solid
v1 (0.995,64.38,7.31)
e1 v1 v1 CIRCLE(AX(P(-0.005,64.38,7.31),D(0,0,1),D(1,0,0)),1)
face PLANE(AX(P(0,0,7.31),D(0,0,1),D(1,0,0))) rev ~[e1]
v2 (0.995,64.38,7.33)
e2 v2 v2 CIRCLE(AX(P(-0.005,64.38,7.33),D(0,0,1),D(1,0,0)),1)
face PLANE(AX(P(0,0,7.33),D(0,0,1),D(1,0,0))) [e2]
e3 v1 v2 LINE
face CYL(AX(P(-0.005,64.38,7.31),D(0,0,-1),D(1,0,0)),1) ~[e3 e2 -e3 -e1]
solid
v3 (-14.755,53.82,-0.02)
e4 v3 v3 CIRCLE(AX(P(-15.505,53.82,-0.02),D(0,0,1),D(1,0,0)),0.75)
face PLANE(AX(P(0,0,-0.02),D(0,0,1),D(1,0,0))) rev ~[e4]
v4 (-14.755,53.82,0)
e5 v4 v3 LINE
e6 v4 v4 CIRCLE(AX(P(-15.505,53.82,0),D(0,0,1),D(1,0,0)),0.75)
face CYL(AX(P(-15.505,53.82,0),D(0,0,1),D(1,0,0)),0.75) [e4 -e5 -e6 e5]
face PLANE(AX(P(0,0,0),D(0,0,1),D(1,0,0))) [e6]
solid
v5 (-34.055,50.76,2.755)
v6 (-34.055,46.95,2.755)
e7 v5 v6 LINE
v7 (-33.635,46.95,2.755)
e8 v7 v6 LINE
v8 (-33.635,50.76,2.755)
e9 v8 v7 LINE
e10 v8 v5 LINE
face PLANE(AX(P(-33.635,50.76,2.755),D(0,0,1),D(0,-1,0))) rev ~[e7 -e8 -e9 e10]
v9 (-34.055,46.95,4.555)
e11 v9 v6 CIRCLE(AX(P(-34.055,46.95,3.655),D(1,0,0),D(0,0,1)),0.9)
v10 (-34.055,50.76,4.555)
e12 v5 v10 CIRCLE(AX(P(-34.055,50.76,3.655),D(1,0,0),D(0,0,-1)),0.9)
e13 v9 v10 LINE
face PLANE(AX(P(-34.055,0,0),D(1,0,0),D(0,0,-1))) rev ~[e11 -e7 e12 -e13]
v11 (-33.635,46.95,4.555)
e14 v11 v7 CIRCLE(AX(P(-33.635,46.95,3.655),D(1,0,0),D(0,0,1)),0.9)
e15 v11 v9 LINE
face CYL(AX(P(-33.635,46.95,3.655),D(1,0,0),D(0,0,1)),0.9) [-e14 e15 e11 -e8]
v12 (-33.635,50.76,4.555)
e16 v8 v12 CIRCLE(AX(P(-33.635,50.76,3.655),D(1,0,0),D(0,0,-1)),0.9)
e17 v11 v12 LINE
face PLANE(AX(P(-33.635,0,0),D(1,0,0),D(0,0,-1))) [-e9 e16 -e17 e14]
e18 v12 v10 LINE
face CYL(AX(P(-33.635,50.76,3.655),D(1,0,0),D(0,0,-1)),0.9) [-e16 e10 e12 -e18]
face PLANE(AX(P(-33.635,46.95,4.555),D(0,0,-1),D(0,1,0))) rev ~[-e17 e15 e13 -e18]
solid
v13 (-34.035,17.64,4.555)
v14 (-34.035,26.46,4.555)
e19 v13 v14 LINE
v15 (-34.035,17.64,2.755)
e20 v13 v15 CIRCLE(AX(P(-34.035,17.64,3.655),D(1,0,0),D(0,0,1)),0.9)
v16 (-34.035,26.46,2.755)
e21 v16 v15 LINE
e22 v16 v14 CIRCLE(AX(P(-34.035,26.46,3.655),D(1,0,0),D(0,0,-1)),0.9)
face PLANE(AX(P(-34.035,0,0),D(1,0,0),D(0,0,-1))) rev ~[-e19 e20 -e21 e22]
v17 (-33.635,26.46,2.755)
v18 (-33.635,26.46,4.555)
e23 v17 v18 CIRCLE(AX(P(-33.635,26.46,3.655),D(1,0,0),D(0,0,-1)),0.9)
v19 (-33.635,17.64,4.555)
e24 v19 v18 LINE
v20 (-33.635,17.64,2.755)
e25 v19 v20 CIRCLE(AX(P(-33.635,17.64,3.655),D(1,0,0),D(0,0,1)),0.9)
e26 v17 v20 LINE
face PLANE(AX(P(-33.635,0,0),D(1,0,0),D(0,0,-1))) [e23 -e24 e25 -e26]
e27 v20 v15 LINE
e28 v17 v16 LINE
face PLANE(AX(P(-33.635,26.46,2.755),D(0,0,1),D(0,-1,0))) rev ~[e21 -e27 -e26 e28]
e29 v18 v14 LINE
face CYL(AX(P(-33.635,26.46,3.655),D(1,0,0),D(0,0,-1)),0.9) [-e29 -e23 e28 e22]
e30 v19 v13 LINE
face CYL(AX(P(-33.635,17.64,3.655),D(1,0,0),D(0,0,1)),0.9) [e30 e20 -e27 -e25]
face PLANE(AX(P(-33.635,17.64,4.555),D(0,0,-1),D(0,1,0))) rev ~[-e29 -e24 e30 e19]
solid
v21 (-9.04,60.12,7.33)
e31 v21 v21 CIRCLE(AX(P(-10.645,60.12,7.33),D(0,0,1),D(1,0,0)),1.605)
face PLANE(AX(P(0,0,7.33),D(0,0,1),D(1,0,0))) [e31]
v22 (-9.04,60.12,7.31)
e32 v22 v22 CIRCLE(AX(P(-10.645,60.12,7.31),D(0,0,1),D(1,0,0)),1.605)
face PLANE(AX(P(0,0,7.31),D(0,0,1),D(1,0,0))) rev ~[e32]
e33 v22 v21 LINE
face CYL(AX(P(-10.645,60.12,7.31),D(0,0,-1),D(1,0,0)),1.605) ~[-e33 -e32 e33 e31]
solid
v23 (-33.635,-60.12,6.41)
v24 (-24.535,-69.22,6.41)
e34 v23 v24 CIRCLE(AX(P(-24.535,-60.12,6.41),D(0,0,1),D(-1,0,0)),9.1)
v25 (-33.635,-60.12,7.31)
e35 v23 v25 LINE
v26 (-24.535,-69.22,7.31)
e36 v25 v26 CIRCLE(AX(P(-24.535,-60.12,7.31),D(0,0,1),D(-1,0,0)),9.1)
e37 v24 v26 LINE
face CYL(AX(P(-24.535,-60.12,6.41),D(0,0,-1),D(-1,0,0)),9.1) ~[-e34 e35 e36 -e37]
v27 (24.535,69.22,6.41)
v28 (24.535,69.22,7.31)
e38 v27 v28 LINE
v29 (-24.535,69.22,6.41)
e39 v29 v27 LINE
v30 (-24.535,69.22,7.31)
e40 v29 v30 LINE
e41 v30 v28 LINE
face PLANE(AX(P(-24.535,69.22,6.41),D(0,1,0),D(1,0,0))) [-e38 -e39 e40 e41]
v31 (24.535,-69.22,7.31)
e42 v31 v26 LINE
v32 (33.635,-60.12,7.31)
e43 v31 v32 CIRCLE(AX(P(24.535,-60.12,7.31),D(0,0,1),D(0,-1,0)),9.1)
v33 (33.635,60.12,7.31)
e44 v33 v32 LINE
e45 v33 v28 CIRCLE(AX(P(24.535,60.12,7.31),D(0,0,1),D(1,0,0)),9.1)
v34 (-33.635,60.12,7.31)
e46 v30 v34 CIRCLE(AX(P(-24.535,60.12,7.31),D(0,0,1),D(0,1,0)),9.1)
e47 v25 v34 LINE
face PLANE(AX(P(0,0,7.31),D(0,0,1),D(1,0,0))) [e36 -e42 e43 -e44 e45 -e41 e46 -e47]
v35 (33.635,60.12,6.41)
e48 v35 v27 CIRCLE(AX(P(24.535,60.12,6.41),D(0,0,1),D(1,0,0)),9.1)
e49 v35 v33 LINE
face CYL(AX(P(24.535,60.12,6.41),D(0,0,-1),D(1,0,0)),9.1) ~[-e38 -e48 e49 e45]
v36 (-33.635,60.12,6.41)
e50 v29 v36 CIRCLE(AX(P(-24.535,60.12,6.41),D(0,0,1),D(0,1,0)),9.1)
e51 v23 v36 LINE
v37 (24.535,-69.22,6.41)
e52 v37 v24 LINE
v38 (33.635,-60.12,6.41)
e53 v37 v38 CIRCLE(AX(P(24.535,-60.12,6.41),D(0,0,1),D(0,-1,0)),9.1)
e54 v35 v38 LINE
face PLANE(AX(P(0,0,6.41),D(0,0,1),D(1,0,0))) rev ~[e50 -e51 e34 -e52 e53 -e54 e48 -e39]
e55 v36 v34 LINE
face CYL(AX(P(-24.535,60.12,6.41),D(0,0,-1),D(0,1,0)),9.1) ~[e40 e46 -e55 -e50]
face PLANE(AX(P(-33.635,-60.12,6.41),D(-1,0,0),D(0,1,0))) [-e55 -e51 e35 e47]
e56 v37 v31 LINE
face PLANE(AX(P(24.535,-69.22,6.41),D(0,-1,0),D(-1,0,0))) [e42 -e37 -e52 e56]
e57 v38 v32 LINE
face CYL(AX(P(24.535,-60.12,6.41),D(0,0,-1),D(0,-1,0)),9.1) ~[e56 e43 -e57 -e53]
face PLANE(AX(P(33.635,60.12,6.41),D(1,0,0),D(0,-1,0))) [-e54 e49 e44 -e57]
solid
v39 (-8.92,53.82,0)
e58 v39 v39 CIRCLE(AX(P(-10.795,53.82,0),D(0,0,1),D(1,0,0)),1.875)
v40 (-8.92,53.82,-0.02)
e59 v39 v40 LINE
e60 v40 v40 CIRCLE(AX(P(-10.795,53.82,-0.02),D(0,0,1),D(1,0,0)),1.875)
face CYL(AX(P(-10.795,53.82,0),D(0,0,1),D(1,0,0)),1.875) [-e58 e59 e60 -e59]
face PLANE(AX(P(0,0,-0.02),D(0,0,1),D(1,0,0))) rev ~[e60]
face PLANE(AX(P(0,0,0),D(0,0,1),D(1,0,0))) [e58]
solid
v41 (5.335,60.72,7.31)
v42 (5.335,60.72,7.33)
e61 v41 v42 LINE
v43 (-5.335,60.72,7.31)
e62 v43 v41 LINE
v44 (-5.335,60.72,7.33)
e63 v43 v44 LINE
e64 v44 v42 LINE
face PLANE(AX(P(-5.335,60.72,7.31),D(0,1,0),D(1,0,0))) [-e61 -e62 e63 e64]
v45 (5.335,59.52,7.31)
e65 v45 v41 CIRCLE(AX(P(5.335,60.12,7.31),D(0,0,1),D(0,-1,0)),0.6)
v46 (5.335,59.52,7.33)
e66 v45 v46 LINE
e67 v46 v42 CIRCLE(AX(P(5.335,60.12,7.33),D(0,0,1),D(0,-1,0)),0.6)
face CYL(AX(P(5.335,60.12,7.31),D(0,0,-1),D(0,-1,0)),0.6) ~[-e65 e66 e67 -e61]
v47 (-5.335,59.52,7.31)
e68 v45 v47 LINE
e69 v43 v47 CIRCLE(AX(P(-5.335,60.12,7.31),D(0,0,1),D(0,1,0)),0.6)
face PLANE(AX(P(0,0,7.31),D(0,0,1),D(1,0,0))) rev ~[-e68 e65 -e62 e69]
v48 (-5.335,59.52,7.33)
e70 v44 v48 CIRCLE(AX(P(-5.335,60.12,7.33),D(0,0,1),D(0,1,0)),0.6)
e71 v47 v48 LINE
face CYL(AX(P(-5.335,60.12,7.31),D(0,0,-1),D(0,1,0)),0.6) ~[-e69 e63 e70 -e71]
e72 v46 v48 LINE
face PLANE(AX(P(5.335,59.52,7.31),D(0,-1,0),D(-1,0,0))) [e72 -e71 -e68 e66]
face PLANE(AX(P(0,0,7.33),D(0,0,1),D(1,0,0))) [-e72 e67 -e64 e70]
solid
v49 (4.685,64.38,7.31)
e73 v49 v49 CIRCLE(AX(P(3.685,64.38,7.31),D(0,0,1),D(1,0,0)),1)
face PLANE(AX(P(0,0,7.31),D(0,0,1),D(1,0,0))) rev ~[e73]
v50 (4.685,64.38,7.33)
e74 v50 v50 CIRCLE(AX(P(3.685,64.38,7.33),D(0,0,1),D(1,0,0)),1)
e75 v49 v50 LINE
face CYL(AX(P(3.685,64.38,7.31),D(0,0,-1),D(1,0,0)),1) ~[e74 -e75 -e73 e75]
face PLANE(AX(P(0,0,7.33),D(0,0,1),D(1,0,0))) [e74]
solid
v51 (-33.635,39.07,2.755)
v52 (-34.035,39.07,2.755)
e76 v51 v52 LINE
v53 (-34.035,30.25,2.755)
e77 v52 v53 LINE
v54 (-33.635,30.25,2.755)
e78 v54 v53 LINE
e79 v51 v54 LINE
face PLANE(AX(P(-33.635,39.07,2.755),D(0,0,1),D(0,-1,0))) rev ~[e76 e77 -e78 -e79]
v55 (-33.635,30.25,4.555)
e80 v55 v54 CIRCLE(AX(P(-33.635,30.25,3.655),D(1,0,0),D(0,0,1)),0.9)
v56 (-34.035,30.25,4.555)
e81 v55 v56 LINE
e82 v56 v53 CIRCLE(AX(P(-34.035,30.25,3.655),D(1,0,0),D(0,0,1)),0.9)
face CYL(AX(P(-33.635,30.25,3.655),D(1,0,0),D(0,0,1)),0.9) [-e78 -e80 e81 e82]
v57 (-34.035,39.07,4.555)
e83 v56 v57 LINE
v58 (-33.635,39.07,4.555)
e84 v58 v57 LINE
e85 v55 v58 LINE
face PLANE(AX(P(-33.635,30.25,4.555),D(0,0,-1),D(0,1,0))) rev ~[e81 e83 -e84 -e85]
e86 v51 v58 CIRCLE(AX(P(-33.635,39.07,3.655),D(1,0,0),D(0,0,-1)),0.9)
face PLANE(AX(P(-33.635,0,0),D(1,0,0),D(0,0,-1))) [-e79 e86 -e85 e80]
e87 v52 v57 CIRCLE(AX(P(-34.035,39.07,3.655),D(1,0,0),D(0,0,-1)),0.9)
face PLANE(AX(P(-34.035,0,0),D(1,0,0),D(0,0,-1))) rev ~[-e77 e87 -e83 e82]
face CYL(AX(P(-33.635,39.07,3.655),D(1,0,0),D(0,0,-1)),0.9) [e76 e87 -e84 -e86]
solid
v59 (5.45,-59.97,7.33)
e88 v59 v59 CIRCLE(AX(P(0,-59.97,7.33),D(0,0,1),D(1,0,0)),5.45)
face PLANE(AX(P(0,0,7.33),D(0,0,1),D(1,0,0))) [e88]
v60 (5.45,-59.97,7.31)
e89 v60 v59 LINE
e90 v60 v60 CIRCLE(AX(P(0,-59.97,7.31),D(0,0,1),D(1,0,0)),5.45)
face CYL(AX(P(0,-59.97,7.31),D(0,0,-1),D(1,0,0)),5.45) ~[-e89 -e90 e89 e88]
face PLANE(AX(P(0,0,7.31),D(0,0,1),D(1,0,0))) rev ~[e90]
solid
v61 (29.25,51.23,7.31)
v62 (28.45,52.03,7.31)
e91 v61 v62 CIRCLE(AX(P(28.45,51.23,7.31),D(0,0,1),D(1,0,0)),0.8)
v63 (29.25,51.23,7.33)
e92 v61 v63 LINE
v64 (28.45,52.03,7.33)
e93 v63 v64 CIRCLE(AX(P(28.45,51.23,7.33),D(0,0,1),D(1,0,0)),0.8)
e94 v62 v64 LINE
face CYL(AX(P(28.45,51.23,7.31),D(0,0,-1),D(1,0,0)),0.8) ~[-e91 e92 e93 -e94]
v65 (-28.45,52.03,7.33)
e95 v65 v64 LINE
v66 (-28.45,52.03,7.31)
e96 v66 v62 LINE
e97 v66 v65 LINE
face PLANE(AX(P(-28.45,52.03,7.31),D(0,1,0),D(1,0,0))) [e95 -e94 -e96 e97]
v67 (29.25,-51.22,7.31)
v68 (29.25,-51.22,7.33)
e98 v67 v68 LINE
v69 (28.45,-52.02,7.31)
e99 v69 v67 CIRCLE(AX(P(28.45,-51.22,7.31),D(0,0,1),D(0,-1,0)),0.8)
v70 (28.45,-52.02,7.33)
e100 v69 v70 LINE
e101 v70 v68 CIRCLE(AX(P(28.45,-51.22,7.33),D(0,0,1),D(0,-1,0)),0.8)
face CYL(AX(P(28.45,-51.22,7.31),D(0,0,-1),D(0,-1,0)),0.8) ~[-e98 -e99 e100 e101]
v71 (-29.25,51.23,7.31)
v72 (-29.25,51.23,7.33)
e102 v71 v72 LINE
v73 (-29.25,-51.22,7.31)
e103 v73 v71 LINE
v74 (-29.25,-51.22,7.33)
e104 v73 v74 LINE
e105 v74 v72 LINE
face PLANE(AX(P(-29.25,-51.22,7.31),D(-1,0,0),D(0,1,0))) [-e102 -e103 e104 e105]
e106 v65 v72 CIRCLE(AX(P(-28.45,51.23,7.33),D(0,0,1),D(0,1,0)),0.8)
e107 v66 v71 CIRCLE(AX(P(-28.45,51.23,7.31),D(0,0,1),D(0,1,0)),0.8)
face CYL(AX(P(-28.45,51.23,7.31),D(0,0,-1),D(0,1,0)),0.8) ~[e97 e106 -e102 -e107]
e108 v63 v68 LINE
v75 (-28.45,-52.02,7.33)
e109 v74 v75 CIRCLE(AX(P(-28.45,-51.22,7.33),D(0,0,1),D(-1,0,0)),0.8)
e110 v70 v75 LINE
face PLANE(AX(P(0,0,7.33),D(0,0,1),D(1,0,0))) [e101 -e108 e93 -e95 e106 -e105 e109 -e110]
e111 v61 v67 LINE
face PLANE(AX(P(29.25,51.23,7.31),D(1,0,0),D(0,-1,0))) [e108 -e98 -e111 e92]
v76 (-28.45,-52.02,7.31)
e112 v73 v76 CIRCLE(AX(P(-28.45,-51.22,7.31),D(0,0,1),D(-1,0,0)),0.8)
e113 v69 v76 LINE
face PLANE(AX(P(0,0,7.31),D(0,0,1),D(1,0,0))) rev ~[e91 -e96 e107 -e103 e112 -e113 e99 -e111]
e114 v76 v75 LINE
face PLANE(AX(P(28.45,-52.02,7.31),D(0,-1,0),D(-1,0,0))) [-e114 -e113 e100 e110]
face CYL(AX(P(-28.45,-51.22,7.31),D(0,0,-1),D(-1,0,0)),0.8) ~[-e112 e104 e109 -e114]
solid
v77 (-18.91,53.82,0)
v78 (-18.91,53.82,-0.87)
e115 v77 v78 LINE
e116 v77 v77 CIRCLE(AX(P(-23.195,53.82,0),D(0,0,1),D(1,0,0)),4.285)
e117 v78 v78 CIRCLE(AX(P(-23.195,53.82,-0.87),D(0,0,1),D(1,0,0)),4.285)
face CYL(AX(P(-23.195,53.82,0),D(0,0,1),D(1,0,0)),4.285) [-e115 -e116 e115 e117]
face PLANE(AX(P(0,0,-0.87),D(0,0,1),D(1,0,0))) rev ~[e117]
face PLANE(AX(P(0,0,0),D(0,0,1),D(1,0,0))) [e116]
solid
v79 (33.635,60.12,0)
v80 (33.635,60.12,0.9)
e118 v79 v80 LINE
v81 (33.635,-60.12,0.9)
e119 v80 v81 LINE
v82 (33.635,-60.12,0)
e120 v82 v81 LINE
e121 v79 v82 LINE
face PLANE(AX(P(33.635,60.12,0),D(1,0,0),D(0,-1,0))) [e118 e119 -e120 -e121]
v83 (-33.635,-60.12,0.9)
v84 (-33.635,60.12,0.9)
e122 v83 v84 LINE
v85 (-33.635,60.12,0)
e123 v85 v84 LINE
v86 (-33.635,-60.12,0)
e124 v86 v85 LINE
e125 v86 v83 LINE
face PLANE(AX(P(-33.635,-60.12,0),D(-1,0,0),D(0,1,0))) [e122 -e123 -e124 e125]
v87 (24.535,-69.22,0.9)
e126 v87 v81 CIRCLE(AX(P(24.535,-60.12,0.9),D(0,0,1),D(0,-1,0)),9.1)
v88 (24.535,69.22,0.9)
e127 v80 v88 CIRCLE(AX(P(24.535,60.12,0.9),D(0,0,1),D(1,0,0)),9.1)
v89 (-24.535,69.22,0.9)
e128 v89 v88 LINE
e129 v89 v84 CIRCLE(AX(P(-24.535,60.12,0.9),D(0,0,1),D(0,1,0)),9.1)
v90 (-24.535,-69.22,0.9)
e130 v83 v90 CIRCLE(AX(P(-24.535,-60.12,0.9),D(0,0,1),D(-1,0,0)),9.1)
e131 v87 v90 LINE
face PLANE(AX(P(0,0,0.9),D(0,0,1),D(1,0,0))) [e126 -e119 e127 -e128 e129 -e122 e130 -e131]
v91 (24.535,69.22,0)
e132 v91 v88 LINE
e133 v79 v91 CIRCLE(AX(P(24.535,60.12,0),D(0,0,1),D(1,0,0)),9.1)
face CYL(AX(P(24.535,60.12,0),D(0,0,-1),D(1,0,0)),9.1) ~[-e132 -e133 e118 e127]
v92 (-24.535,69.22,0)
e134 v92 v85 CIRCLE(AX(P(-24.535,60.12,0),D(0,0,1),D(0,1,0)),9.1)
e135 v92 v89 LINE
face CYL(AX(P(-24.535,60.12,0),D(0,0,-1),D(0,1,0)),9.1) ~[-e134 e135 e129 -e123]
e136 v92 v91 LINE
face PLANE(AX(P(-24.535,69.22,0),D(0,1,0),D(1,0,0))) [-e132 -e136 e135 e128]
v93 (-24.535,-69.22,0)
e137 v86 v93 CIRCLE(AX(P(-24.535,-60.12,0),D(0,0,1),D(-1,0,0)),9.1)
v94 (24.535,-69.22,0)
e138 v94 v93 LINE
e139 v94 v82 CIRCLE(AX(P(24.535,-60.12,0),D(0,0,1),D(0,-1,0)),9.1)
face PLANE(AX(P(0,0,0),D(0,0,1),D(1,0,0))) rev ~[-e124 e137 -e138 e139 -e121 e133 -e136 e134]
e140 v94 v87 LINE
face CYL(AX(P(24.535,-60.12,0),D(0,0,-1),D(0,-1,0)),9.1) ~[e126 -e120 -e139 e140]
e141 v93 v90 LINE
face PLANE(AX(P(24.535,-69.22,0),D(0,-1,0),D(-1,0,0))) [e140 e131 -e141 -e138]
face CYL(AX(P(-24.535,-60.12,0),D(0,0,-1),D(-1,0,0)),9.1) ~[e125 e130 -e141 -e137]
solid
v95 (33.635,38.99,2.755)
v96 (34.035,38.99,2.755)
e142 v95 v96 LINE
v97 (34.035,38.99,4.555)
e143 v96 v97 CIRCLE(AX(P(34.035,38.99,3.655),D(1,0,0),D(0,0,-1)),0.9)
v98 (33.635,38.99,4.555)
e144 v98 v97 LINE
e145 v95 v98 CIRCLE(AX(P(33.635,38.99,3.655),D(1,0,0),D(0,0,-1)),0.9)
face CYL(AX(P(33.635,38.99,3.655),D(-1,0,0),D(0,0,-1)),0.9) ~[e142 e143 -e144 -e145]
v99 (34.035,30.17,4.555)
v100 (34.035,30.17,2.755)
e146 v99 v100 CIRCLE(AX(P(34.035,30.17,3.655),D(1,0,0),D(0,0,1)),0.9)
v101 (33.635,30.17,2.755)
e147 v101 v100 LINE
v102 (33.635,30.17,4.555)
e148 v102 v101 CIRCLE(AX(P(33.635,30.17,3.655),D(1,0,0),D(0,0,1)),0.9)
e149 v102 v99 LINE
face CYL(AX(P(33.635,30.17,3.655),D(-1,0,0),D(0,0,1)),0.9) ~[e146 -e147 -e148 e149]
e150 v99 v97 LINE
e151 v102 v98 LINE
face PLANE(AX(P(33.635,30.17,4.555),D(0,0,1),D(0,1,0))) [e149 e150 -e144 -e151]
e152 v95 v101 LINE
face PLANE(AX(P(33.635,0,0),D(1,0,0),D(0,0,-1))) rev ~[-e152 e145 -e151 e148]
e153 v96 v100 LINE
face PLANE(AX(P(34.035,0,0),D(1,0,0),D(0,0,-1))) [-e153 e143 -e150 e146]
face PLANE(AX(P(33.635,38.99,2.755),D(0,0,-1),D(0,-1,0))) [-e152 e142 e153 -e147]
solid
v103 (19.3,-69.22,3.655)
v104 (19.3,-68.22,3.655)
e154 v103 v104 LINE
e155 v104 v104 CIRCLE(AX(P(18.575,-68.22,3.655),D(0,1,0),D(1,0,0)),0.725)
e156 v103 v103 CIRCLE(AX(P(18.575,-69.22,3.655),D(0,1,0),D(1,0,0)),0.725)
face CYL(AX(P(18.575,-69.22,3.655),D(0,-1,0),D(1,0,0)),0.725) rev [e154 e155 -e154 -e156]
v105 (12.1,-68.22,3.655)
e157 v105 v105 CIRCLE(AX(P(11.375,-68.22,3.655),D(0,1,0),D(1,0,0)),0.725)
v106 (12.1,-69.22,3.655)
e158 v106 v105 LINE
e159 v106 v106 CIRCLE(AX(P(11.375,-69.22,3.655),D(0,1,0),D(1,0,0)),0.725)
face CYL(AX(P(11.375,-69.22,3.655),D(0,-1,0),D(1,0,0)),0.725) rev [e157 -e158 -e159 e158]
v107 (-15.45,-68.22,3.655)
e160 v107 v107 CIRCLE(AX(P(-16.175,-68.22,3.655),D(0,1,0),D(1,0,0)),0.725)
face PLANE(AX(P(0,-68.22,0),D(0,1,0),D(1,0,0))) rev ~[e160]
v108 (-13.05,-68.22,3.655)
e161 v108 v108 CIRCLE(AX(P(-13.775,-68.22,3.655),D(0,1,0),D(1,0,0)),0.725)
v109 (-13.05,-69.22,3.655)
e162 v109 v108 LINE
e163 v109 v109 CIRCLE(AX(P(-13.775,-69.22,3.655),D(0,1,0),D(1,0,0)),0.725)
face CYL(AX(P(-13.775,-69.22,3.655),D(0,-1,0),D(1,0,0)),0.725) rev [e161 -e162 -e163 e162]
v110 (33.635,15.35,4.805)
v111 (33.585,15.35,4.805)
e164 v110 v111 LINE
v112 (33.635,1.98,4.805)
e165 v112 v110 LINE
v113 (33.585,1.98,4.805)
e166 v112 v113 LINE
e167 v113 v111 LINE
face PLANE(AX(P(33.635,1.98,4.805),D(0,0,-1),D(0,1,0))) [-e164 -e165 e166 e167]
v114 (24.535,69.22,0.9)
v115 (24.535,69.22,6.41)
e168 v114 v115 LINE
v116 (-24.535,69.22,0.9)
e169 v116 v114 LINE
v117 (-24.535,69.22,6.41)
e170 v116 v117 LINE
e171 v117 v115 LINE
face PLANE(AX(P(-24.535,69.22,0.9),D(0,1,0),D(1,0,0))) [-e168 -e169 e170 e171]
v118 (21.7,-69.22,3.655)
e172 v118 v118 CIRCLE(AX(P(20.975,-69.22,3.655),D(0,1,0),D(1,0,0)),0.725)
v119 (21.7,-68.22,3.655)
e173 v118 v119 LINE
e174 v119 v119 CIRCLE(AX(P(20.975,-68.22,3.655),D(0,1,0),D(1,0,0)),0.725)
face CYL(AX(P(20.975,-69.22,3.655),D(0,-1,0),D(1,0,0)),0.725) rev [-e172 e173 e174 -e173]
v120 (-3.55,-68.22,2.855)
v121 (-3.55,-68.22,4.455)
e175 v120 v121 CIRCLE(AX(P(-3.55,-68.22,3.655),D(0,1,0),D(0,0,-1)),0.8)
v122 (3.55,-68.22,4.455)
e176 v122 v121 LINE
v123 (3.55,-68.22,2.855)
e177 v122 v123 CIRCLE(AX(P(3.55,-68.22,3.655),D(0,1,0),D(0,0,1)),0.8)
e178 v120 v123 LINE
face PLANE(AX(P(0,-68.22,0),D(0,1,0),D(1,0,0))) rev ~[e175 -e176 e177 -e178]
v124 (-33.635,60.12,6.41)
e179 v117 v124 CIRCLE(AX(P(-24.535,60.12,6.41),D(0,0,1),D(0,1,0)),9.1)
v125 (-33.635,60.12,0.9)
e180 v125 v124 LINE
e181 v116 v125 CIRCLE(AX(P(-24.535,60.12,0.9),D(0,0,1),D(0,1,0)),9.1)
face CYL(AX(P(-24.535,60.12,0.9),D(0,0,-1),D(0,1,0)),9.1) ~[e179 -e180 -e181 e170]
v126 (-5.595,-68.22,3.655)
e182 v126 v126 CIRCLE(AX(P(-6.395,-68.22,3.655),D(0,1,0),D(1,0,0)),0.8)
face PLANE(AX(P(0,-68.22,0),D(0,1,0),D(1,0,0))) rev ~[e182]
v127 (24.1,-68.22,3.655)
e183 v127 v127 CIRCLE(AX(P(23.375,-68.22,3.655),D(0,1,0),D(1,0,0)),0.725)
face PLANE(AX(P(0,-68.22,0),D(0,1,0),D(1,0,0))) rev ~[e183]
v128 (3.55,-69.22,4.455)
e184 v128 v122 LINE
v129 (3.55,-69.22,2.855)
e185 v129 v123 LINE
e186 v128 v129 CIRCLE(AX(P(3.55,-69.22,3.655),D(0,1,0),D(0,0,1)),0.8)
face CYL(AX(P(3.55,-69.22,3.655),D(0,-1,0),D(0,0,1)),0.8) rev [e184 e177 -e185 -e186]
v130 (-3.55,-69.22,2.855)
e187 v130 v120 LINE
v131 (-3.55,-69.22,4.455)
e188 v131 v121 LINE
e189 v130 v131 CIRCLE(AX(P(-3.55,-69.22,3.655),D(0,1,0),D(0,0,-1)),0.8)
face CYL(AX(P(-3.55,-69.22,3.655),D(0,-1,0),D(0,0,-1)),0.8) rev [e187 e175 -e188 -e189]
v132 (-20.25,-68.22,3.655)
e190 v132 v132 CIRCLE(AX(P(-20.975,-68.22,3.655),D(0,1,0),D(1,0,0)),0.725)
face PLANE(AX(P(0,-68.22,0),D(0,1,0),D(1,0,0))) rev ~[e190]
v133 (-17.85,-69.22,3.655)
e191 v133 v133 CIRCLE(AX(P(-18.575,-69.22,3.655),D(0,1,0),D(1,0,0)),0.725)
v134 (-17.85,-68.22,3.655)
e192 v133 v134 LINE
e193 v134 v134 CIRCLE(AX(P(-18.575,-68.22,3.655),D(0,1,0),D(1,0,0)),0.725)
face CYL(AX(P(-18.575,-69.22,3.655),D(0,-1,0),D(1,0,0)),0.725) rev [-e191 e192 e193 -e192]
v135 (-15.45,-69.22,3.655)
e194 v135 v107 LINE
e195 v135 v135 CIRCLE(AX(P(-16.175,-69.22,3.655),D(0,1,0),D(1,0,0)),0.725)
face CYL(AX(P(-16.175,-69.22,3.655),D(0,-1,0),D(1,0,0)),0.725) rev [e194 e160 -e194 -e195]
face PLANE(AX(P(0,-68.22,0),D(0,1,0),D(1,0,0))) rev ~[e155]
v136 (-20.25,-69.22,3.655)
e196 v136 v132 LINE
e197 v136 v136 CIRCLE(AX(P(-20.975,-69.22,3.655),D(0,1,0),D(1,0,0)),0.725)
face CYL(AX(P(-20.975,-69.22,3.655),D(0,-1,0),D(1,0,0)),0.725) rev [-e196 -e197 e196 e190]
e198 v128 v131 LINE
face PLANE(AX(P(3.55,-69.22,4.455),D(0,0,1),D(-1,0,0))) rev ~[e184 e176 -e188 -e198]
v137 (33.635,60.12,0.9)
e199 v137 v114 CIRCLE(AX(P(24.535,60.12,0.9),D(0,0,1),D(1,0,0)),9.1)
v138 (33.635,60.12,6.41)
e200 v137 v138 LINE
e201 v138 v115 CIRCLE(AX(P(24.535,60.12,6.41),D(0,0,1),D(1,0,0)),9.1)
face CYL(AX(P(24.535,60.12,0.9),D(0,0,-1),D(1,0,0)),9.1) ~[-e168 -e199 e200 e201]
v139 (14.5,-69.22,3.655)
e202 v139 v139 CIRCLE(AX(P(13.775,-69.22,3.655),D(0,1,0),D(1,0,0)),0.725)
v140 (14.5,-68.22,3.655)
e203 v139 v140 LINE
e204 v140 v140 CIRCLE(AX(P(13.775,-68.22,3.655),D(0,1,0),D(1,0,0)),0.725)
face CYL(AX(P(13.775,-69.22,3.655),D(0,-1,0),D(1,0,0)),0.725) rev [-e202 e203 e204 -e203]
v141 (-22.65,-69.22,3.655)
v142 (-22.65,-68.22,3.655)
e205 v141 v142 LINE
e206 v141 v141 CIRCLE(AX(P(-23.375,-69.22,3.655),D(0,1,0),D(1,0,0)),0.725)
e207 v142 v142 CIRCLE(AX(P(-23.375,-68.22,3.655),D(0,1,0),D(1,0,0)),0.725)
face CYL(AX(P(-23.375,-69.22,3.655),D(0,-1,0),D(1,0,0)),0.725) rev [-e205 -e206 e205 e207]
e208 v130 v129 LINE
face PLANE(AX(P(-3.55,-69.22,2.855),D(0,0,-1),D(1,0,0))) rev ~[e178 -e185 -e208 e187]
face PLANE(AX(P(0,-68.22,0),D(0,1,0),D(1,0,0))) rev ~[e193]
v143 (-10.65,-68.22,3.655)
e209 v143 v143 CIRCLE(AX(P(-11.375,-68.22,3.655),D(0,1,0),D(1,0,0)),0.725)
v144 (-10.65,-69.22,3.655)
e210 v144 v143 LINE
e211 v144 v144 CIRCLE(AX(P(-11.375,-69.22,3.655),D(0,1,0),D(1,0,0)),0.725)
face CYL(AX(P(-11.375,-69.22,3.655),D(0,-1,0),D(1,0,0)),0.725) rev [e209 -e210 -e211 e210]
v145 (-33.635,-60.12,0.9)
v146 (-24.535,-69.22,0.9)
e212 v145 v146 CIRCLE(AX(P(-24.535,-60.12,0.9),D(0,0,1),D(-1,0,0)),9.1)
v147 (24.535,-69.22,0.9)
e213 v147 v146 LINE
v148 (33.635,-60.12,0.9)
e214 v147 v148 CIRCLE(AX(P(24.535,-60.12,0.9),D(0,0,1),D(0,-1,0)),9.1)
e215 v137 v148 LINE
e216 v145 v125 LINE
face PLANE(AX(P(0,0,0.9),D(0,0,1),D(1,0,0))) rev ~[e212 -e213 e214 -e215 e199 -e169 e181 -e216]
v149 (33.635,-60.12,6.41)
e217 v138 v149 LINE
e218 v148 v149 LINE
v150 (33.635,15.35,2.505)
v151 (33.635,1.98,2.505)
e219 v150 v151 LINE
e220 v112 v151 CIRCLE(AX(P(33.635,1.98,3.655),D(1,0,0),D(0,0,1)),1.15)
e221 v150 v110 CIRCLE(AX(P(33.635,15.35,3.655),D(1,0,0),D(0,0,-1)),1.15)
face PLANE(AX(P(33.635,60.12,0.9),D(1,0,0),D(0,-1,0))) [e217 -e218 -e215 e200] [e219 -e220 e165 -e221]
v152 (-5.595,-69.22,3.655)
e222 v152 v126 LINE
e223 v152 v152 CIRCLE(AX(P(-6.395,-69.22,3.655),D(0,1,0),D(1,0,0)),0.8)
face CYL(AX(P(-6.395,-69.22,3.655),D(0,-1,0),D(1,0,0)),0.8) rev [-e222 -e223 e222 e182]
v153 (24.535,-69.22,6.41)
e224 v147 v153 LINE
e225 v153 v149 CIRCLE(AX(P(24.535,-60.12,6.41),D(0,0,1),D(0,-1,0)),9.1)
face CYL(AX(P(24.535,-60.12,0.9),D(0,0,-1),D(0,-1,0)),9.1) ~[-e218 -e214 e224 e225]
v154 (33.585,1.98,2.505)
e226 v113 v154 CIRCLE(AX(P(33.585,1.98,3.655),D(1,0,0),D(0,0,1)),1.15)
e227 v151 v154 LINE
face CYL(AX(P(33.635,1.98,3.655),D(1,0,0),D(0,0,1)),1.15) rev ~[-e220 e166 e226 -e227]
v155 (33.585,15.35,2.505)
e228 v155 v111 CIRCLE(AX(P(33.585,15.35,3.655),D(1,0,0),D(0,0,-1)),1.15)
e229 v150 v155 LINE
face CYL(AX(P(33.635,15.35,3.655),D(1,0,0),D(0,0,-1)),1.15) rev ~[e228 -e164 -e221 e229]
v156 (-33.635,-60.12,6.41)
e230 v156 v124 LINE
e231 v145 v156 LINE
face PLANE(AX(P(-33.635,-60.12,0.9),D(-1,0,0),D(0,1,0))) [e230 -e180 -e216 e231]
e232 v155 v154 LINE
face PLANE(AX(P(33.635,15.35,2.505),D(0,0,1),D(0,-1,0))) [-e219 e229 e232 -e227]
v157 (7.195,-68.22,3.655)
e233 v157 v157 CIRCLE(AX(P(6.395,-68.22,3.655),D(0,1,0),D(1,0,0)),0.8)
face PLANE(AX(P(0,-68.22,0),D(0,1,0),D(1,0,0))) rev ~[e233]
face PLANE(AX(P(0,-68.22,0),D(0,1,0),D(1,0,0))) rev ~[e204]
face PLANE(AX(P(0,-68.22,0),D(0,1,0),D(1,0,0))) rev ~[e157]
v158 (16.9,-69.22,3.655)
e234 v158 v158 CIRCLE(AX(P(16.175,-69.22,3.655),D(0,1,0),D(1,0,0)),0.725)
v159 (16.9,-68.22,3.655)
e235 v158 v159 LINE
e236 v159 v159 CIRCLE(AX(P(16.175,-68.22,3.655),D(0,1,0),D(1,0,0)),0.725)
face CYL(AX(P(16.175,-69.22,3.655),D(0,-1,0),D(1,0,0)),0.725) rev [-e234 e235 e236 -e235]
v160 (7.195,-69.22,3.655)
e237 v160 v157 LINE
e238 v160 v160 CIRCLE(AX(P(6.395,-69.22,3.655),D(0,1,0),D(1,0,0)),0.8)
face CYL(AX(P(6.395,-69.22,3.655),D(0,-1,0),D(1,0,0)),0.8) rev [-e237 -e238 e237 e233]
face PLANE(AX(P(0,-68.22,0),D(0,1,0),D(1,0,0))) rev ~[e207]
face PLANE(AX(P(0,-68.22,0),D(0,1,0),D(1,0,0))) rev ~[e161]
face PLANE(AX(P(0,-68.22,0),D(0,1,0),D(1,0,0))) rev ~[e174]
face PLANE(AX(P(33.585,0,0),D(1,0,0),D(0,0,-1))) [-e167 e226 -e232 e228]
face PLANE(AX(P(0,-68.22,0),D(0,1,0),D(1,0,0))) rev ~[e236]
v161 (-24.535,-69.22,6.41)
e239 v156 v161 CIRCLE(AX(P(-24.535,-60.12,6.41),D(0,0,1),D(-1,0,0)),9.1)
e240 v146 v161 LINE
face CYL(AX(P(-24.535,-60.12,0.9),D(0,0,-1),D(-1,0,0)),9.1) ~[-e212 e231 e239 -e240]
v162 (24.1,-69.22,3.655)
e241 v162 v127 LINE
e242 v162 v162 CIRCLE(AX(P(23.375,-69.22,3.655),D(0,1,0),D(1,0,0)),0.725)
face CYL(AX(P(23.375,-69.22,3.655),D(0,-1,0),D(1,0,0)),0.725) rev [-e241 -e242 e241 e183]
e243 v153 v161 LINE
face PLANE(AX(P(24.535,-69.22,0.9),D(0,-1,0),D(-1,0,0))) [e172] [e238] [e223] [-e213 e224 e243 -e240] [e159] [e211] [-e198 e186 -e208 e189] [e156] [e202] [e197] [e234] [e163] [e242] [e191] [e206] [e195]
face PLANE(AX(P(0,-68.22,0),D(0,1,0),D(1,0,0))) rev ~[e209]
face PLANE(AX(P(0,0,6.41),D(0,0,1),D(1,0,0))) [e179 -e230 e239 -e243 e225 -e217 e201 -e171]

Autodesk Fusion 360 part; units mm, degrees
sketch "スケッチ1" plane through (0, 0, 0) normal (0, 0, 1) x (1, 0, 0) in component "iPhone SE 3 - Parametric Drawing Model"
  arc A0 (33.635, 60.12) -> (24.535, 69.22) centre (24.535, 60.12) ccw
  arc A1 (24.535, -69.22) -> (33.635, -60.12) centre (24.535, -60.12) ccw
  arc A2 (-33.635, -60.12) -> (-24.535, -69.22) centre (-24.535, -60.12) ccw
  arc A3 (-24.535, 69.22) -> (-33.635, 60.12) centre (-24.535, 60.12) ccw
  line L0 (-24.535, 69.22) -> (24.535, 69.22)
  line L1 (33.635, 60.12) -> (33.635, -60.12)
  line L2 (24.535, -69.22) -> (-24.535, -69.22)
  line L3 (-33.635, -60.12) -> (-33.635, 60.12)
  dimension "d710" = 49.07
  dimension "d711" = 120.24
  dimension "d712" = 9.1
  dimension "d713" = 24.535
  dimension "d714" = 60.12
extrude "Rear Glass" add sketch "スケッチ1" along normal blind 0.9 makes body 1 in component "iPhone SE 3 - Parametric Drawing Model"
ref_plane "作業平面1" through (0, 0, 0.9) normal (0, 0, 1) x (1, 0, 0) in component "iPhone SE 3 - Parametric Drawing Model"
sketch "スケッチ2" plane through (0, 0, 0.9) normal (0, 0, 1) x (1, 0, 0) in component "iPhone SE 3 - Parametric Drawing Model"
  arc A0 (33.635, 60.12) -> (24.535, 69.22) centre (24.535, 60.12) ccw
  arc A1 (24.535, -69.22) -> (33.635, -60.12) centre (24.535, -60.12) ccw
  arc A2 (-33.635, -60.12) -> (-24.535, -69.22) centre (-24.535, -60.12) ccw
  arc A3 (-24.535, 69.22) -> (-33.635, 60.12) centre (-24.535, 60.12) ccw
  line L0 (-24.535, 69.22) -> (24.535, 69.22)
  line L1 (33.635, 60.12) -> (33.635, -60.12)
  line L2 (24.535, -69.22) -> (-24.535, -69.22)
  line L3 (-33.635, -60.12) -> (-33.635, 60.12)
  dimension "d719" = 49.07
  dimension "d720" = 120.24
  dimension "d721" = 9.1
  dimension "d722" = 24.535
  dimension "d723" = 60.12
extrude "Aluminum Frame" add sketch "スケッチ2" along normal blind 5.51 separate body makes body 2 in component "iPhone SE 3 - Parametric Drawing Model"
ref_plane "作業平面2" through (0, 0, 6.41) normal (0, 0, 1) x (1, 0, 0) in component "iPhone SE 3 - Parametric Drawing Model"
sketch "スケッチ3" plane through (0, 0, 6.41) normal (0, 0, 1) x (1, 0, 0) in component "iPhone SE 3 - Parametric Drawing Model"
  arc A0 (33.635, 60.12) -> (24.535, 69.22) centre (24.535, 60.12) ccw
  arc A1 (24.535, -69.22) -> (33.635, -60.12) centre (24.535, -60.12) ccw
  arc A2 (-33.635, -60.12) -> (-24.535, -69.22) centre (-24.535, -60.12) ccw
  arc A3 (-24.535, 69.22) -> (-33.635, 60.12) centre (-24.535, 60.12) ccw
  line L0 (-24.535, 69.22) -> (24.535, 69.22)
  line L1 (33.635, 60.12) -> (33.635, -60.12)
  line L2 (24.535, -69.22) -> (-24.535, -69.22)
  line L3 (-33.635, -60.12) -> (-33.635, 60.12)
  dimension "d728" = 49.07
  dimension "d729" = 120.24
  dimension "d730" = 9.1
  dimension "d731" = 24.535
  dimension "d732" = 60.12
extrude "Front Cover Glass" add sketch "スケッチ3" along normal blind 0.9 separate body makes body 3 in component "iPhone SE 3 - Parametric Drawing Model"
ref_plane "作業平面3" through (0, 0, 7.31) normal (0, 0, 1) x (1, 0, 0) in component "iPhone SE 3 - Parametric Drawing Model"
sketch "スケッチ4" plane through (0, 0, 7.31) normal (0, 0, 1) x (1, 0, 0) in component "iPhone SE 3 - Parametric Drawing Model"
  arc A0 (29.25, 51.23) -> (28.45, 52.03) centre (28.45, 51.23) ccw
  arc A1 (28.45, -52.02) -> (29.25, -51.22) centre (28.45, -51.22) ccw
  arc A2 (-29.25, -51.22) -> (-28.45, -52.02) centre (-28.45, -51.22) ccw
  arc A3 (-28.45, 52.03) -> (-29.25, 51.23) centre (-28.45, 51.23) ccw
  line L0 (-28.45, 52.03) -> (28.45, 52.03)
  line L1 (29.25, 51.23) -> (29.25, -51.22)
  line L2 (28.45, -52.02) -> (-28.45, -52.02)
  line L3 (-29.25, -51.22) -> (-29.25, 51.23)
  dimension "d737" = 56.9
  dimension "d738" = 102.45
  dimension "d739" = 0.8
  dimension "d740" = 28.45
  dimension "d741" = 51.23
extrude "Front Active Area Reference" add sketch "スケッチ4" along normal blind 0.02 separate body makes body 4 in component "iPhone SE 3 - Parametric Drawing Model"
sketch "スケッチ5" plane through (0, 0, 7.31) normal (0, 0, 1) x (1, 0, 0) in component "iPhone SE 3 - Parametric Drawing Model"
  circle A0 centre (0, -59.97) radius 5.45
  dimension "d744" = 59.97
  dimension "d745" = 10.9
extrude "Home Touch ID Sensor" add sketch "スケッチ5" along normal blind 0.02 separate body makes body 5 in component "iPhone SE 3 - Parametric Drawing Model"
sketch "スケッチ6" plane through (0, 0, 7.31) normal (0, 0, 1) x (1, 0, 0) in component "iPhone SE 3 - Parametric Drawing Model"
  circle A0 centre (-10.645, 60.12) radius 1.605
  dimension "d748" = 10.645
  dimension "d749" = 60.12
  dimension "d750" = 3.21
extrude "Front Detail 12 Front Camera Position" add sketch "スケッチ6" along normal blind 0.02 separate body makes body 6 in component "iPhone SE 3 - Parametric Drawing Model"
sketch "スケッチ7" plane through (0, 0, 7.31) normal (0, 0, 1) x (1, 0, 0) in component "iPhone SE 3 - Parametric Drawing Model"
  circle A0 centre (-0.005, 64.38) radius 1
  dimension "d753" = 0.005
  dimension "d754" = 64.38
  dimension "d755" = 2
extrude "Front Detail 13 Proximity Sensor Position" add sketch "スケッチ7" along normal blind 0.02 separate body makes body 7 in component "iPhone SE 3 - Parametric Drawing Model"
sketch "スケッチ8" plane through (0, 0, 7.31) normal (0, 0, 1) x (1, 0, 0) in component "iPhone SE 3 - Parametric Drawing Model"
  circle A0 centre (3.685, 64.38) radius 1
  dimension "d758" = 3.685
  dimension "d759" = 64.38
  dimension "d760" = 2
extrude "Front Detail 14 ALS Position" add sketch "スケッチ8" along normal blind 0.02 separate body makes body 8 in component "iPhone SE 3 - Parametric Drawing Model"
sketch "スケッチ9" plane through (0, 0, 7.31) normal (0, 0, 1) x (1, 0, 0) in component "iPhone SE 3 - Parametric Drawing Model"
  arc A0 (5.335, 59.52) -> (5.335, 60.72) centre (5.335, 60.12) ccw
  arc A1 (-5.335, 60.72) -> (-5.335, 59.52) centre (-5.335, 60.12) ccw
  line L0 (-5.335, 60.72) -> (5.335, 60.72)
  line L1 (5.335, 59.52) -> (-5.335, 59.52)
  line L2 (-5.335, 60.12) -> (5.335, 60.12) construction
  point P0 (0, 60.12)
  dimension "d763" = 10.67
  dimension "d764" = 0.6
  dimension "d765" = 60.12
extrude "Receiver Opening" add sketch "スケッチ9" along normal blind 0.02 separate body makes body 9 in component "iPhone SE 3 - Parametric Drawing Model"
sketch "スケッチ10" plane through (0, 0, 0) normal (0, 0, 1) x (1, 0, 0) in component "iPhone SE 3 - Parametric Drawing Model"
  circle A0 centre (-23.195, 53.82) radius 4.285
  dimension "d768" = 23.195
  dimension "d769" = 53.82
  dimension "d770" = 8.57
extrude "Rear Camera Bump" add sketch "スケッチ10" against normal blind 0.87 separate body makes body 10 in component "iPhone SE 3 - Parametric Drawing Model"
sketch "スケッチ11" plane through (0, 0, 0) normal (0, 0, 1) x (1, 0, 0) in component "iPhone SE 3 - Parametric Drawing Model"
  circle A0 centre (-15.505, 53.82) radius 0.75
  dimension "d773" = 15.505
  dimension "d774" = 53.82
  dimension "d775" = 1.5
extrude "Rear Microphone" add sketch "スケッチ11" against normal blind 0.02 separate body makes body 11 in component "iPhone SE 3 - Parametric Drawing Model"
sketch "スケッチ12" plane through (0, 0, 0) normal (0, 0, 1) x (1, 0, 0) in component "iPhone SE 3 - Parametric Drawing Model"
  circle A0 centre (-10.795, 53.82) radius 1.875
  dimension "d778" = 10.795
  dimension "d779" = 53.82
  dimension "d780" = 3.75
extrude "Rear Flash" add sketch "スケッチ12" against normal blind 0.02 separate body makes body 12 in component "iPhone SE 3 - Parametric Drawing Model"
ref_plane "作業平面4" through (-33.635, 0, 0) normal (1, 0, 0) x (0, 1, 0) in component "iPhone SE 3 - Parametric Drawing Model"
ref_plane "作業平面5" through (33.635, 0, 0) normal (1, 0, 0) x (0, 1, 0) in component "iPhone SE 3 - Parametric Drawing Model"
sketch "スケッチ13" plane through (-33.635, 0, 0) normal (1, 0, 0) x (0, 0, -1) in component "iPhone SE 3 - Parametric Drawing Model"
  arc A0 (-2.755, 50.76) -> (-4.555, 50.76) centre (-3.655, 50.76) ccw
  arc A1 (-4.555, 46.95) -> (-2.755, 46.95) centre (-3.655, 46.95) ccw
  line L0 (-2.755, 50.76) -> (-2.755, 46.95)
  line L1 (-4.555, 46.95) -> (-4.555, 50.76)
  line L2 (-3.655, 50.76) -> (-3.655, 46.95) construction
  point P0 (-3.655, 48.855)
  dimension "d787" = 3.81
  dimension "d788" = 0.9
  dimension "d789" = 3.655
  dimension "d790" = 48.855
extrude "Ring Silent Switch" add sketch "スケッチ13" against normal blind 0.42 separate body makes body 13 in component "iPhone SE 3 - Parametric Drawing Model"
sketch "スケッチ14" plane through (-33.635, 0, 0) normal (1, 0, 0) x (0, 0, -1) in component "iPhone SE 3 - Parametric Drawing Model"
  arc A0 (-2.755, 39.07) -> (-4.555, 39.07) centre (-3.655, 39.07) ccw
  arc A1 (-4.555, 30.25) -> (-2.755, 30.25) centre (-3.655, 30.25) ccw
  line L0 (-2.755, 39.07) -> (-2.755, 30.25)
  line L1 (-4.555, 30.25) -> (-4.555, 39.07)
  line L2 (-3.655, 39.07) -> (-3.655, 30.25) construction
  point P0 (-3.655, 34.66)
  dimension "d793" = 8.82
  dimension "d794" = 0.9
  dimension "d795" = 3.655
  dimension "d796" = 34.66
extrude "Volume Plus Button" add sketch "スケッチ14" against normal blind 0.4 separate body makes body 14 in component "iPhone SE 3 - Parametric Drawing Model"
sketch "スケッチ15" plane through (-33.635, 0, 0) normal (1, 0, 0) x (0, 0, -1) in component "iPhone SE 3 - Parametric Drawing Model"
  arc A0 (-2.755, 26.46) -> (-4.555, 26.46) centre (-3.655, 26.46) ccw
  arc A1 (-4.555, 17.64) -> (-2.755, 17.64) centre (-3.655, 17.64) ccw
  line L0 (-2.755, 26.46) -> (-2.755, 17.64)
  line L1 (-4.555, 17.64) -> (-4.555, 26.46)
  line L2 (-3.655, 26.46) -> (-3.655, 17.64) construction
  point P0 (-3.655, 22.05)
  dimension "d799" = 8.82
  dimension "d800" = 0.9
  dimension "d801" = 3.655
  dimension "d802" = 22.05
extrude "Volume Minus Button" add sketch "スケッチ15" against normal blind 0.4 separate body makes body 15 in component "iPhone SE 3 - Parametric Drawing Model"
sketch "スケッチ16" plane through (33.635, 0, 0) normal (1, 0, 0) x (0, 0, -1) in component "iPhone SE 3 - Parametric Drawing Model"
  arc A0 (-2.755, 38.99) -> (-4.555, 38.99) centre (-3.655, 38.99) ccw
  arc A1 (-4.555, 30.17) -> (-2.755, 30.17) centre (-3.655, 30.17) ccw
  line L0 (-2.755, 38.99) -> (-2.755, 30.17)
  line L1 (-4.555, 30.17) -> (-4.555, 38.99)
  line L2 (-3.655, 38.99) -> (-3.655, 30.17) construction
  point P0 (-3.655, 34.58)
  dimension "d805" = 8.82
  dimension "d806" = 0.9
  dimension "d807" = 3.655
  dimension "d808" = 34.58
extrude "Side Button" add sketch "スケッチ16" along normal blind 0.4 separate body makes body 16 in component "iPhone SE 3 - Parametric Drawing Model"
sketch "スケッチ17" plane through (33.635, 0, 0) normal (1, 0, 0) x (0, 0, -1) in component "iPhone SE 3 - Parametric Drawing Model"
  arc A0 (-2.505, 15.35) -> (-4.805, 15.35) centre (-3.655, 15.35) ccw
  arc A1 (-4.805, 1.98) -> (-2.505, 1.98) centre (-3.655, 1.98) ccw
  line L0 (-2.505, 15.35) -> (-2.505, 1.98)
  line L1 (-4.805, 1.98) -> (-4.805, 15.35)
  line L2 (-3.655, 15.35) -> (-3.655, 1.98) construction
  point P0 (-3.655, 8.665)
  dimension "d811" = 13.37
  dimension "d812" = 1.15
  dimension "d813" = 3.655
  dimension "d814" = 8.665
extrude "SIM Tray Seam" cut sketch "スケッチ17" against normal blind 0.05 bodies 2 in component "iPhone SE 3 - Parametric Drawing Model"
ref_plane "作業平面6" through (0, -69.22, 0) normal (0, 1, 0) x (0, 0, 1) in component "iPhone SE 3 - Parametric Drawing Model"
sketch "スケッチ18" plane through (0, -69.22, 0) normal (0, 1, 0) x (1, 0, 0) in component "iPhone SE 3 - Parametric Drawing Model"
  arc A0 (3.55, -4.455) -> (3.55, -2.855) centre (3.55, -3.655) ccw
  arc A1 (-3.55, -2.855) -> (-3.55, -4.455) centre (-3.55, -3.655) ccw
  line L0 (-3.55, -2.855) -> (3.55, -2.855)
  line L1 (3.55, -4.455) -> (-3.55, -4.455)
  line L2 (-3.55, -3.655) -> (3.55, -3.655) construction
  circle A2 centre (-23.375, -3.655) radius 0.725
  circle A3 centre (-20.975, -3.655) radius 0.725
  circle A4 centre (-18.575, -3.655) radius 0.725
  circle A5 centre (-16.175, -3.655) radius 0.725
  circle A6 centre (-13.775, -3.655) radius 0.725
  circle A7 centre (-11.375, -3.655) radius 0.725
  circle A8 centre (11.375, -3.655) radius 0.725
  circle A9 centre (13.775, -3.655) radius 0.725
  circle A10 centre (16.175, -3.655) radius 0.725
  circle A11 centre (18.575, -3.655) radius 0.725
  circle A12 centre (20.975, -3.655) radius 0.725
  circle A13 centre (23.375, -3.655) radius 0.725
  circle A14 centre (-6.395, -3.655) radius 0.8
  circle A15 centre (6.395, -3.655) radius 0.8
  point P0 (0, -3.655)
  dimension "d819" = 7.1
  dimension "d820" = 0.8
  dimension "d821" = 3.655
  dimension "d822" = 23.375
  dimension "d823" = 3.655
  dimension "d824" = 1.45
  dimension "d825" = 20.975
  dimension "d826" = 3.655
  dimension "d827" = 1.45
  dimension "d828" = 18.575
  dimension "d829" = 3.655
  dimension "d830" = 1.45
  dimension "d831" = 16.175
  dimension "d832" = 3.655
  dimension "d833" = 1.45
  dimension "d834" = 13.775
  dimension "d835" = 3.655
  dimension "d836" = 1.45
  dimension "d837" = 11.375
  dimension "d838" = 3.655
  dimension "d839" = 1.45
  dimension "d840" = 11.375
  dimension "d841" = 3.655
  dimension "d842" = 1.45
  dimension "d843" = 13.775
  dimension "d844" = 3.655
  dimension "d845" = 1.45
  dimension "d846" = 16.175
  dimension "d847" = 3.655
  dimension "d848" = 1.45
  dimension "d849" = 18.575
  dimension "d850" = 3.655
  dimension "d851" = 1.45
  dimension "d852" = 20.975
  dimension "d853" = 3.655
  dimension "d854" = 1.45
  dimension "d855" = 23.375
  dimension "d856" = 3.655
  dimension "d857" = 1.45
  dimension "d858" = 6.395
  dimension "d859" = 3.655
  dimension "d860" = 1.6
  dimension "d861" = 6.395
  dimension "d862" = 3.655
  dimension "d863" = 1.6
extrude "Bottom Port and Acoustic Openings" cut sketch "スケッチ18" along normal blind 1 bodies 2 in component "iPhone SE 3 - Parametric Drawing Model"
ref_plane "作業平面7" through (0, 0, 3.655) normal (0, 0, 1) x (1, 0, 0) in component "iPhone SE 3 - Parametric Drawing Model"
sketch "スケッチ19" plane through (0, 0, 3.655) normal (0, 0, 1) x (1, 0, 0) in component "iPhone SE 3 - Parametric Drawing Model"
  arc A0 (33.635, 60.12) -> (24.535, 69.22) centre (24.535, 60.12) ccw
  arc A1 (24.535, -69.22) -> (33.635, -60.12) centre (24.535, -60.12) ccw
  arc A2 (-33.635, -60.12) -> (-24.535, -69.22) centre (-24.535, -60.12) ccw
  arc A3 (-24.535, 69.22) -> (-33.635, 60.12) centre (-24.535, 60.12) ccw
  line L0 (-24.535, 69.22) -> (24.535, 69.22)
  line L1 (33.635, 60.12) -> (33.635, -60.12)
  line L2 (24.535, -69.22) -> (-24.535, -69.22)
  line L3 (-33.635, -60.12) -> (-33.635, 60.12)
  dimension "d868" = 49.07
  dimension "d869" = 120.24
  dimension "d870" = 9.1
  dimension "d871" = 24.535
  dimension "d872" = 60.12
component "iPhone SE 3 - Parametric Drawing Model" placed x (1, 0, 0) y (0, 1, 0) z (0, 0, 1) at (0, 0, 0)
equation "SE3_OverallWidth = 67.27 mm" comment "Overall product width"
equation "SE3_OverallHeight = 138.44 mm" comment "Overall product height"
equation "SE3_ProductThickness = 7.31 mm" comment "Nominal product thickness"
equation "SE3_CornerRadius = 9.10 mm" comment "Parameterized plan-view corner radius"
equation "SE3_RearGlassThickness = 0.90 mm" comment "Modeled rear glass thickness"
equation "SE3_FrontGlassThickness = 0.90 mm" comment "Modeled front glass thickness"
equation "SE3_ActiveWidth = 58.50 mm" comment "Front active-area width"
equation "SE3_ActiveHeight = 104.05 mm" comment "Front active-area height"
equation "SE3_ActiveTopOffset = 17.19 mm" comment "Top product datum to active area"
equation "SE3_HomeDiameter = 10.90 mm" comment "Home/Touch ID sensor diameter"
equation "SE3_HomeBottomOffset = 9.25 mm" comment "Bottom datum to Home sensor center"
equation "SE3_ReceiverWidth = 11.87 mm" comment "Receiver width"
equation "SE3_ReceiverHeight = 1.20 mm" comment "Receiver height"
equation "SE3_ReceiverTopOffset = 9.10 mm" comment "Top datum to receiver center"
equation "SE3_FrontCameraDiameter = 3.21 mm" comment "Front camera opening/keepout diameter"
equation "SE3_FrontCameraXFromLeft = 22.99 mm" comment "Left datum to front camera center"
equation "SE3_FrontCameraTopOffset = 9.10 mm" comment "Top datum to front camera center"
equation "SE3_ProximityDiameter = 2.00 mm" comment "Proximity sensor display diameter"
equation "SE3_ProximityXFromLeft = 33.63 mm" comment "Left datum to proximity center"
equation "SE3_ProximityTopOffset = 4.84 mm" comment "Top datum to proximity center"
equation "SE3_ALSDiameter = 2.00 mm" comment "Ambient light sensor display diameter"
equation "SE3_ALSXFromLeft = 37.32 mm" comment "Left datum to ALS center"
equation "SE3_ALSTopOffset = 4.84 mm" comment "Top datum to ALS center"
equation "SE3_RearCameraDiameter = 8.57 mm" comment "Rear camera opening diameter"
equation "SE3_RearMicDiameter = 1.50 mm" comment "Rear microphone diameter"
equation "SE3_RearFlashDiameter = 3.75 mm" comment "Rear flash diameter"
equation "SE3_RearCameraXFromLeft = 10.44 mm" comment "Left datum to rear camera center"
equation "SE3_RearMicXFromLeft = 18.13 mm" comment "Left datum to rear microphone center"
equation "SE3_RearFlashXFromLeft = 22.84 mm" comment "Left datum to rear flash center"
equation "SE3_RearFeatureTopOffset = 15.40 mm" comment "Top datum to rear feature centers"
equation "SE3_CameraBumpHeight = 0.87 mm" comment "Modeled rear camera projection"
equation "SE3_RingTopOffset = 17.56 mm" comment "Top datum to top of ring/silent switch"
equation "SE3_RingLength = 5.61 mm" comment "Ring/silent switch length"
equation "SE3_VolumePlusCenterFromTop = 34.56 mm" comment "Top datum to volume-plus center"
equation "SE3_VolumeMinusCenterFromTop = 47.17 mm" comment "Top datum to volume-minus center"
equation "SE3_ButtonLength = 10.62 mm" comment "Button length: 2 x 5.31"
equation "SE3_ButtonFaceWidth = 1.80 mm" comment "Modeled button width in product-thickness direction"
equation "SE3_RingProjection = 0.42 mm" comment "Ring/silent switch projection"
equation "SE3_ButtonProjection = 0.40 mm" comment "Volume and side-button projection"
equation "SE3_SideButtonCenterFromTop = 34.64 mm" comment "Top datum to side-button center"
equation "SE3_SIMTrayTopOffset = 52.72 mm" comment "Top datum to SIM tray top"
equation "SE3_SIMTrayLength = 15.67 mm" comment "SIM tray length"
equation "SE3_SIMTrayWidth = 2.30 mm" comment "SIM tray visible width"
equation "SE3_BottomHoleDiameter = 1.45 mm" comment "Bottom microphone/speaker hole diameter"
equation "SE3_BottomHoleFirstFromLeft = 10.26 mm" comment "Left datum to first left acoustic hole"
equation "SE3_BottomHolePitch = 2.40 mm" comment "Bottom acoustic-hole pitch: 12.00 / 5"
equation "SE3_BottomRightFirstFromLeft = 45.01 mm" comment "Left datum to first right acoustic hole"
equation "SE3_ScrewDiameter = 1.60 mm" comment "Bottom screw diameter"
equation "SE3_LeftScrewFromLeft = 27.24 mm" comment "Left datum to left screw"
equation "SE3_RightScrewFromLeft = 40.03 mm" comment "Left datum to right screw"
equation "SE3_LightningWidth = 8.70 mm" comment "Lightning opening width: 37.98 - 29.28"
equation "SE3_LightningHeight = 1.60 mm" comment "Modeled Lightning opening height"
equation "SE3_DetailOverlay = 0.02 mm" comment "Visual reference overlay thickness"
equation "d710 = SE3_OverallWidth - 2 * SE3_CornerRadius"
equation "d711 = SE3_OverallHeight - 2 * SE3_CornerRadius"
equation "d712 = SE3_CornerRadius"
equation "d713 = SE3_OverallWidth / 2 - SE3_CornerRadius"
equation "d714 = SE3_OverallHeight / 2 - SE3_CornerRadius"
equation "d715 = SE3_RearGlassThickness"
equation "d717 = SE3_RearGlassThickness"
equation "d719 = SE3_OverallWidth - 2 * SE3_CornerRadius"
equation "d720 = SE3_OverallHeight - 2 * SE3_CornerRadius"
equation "d721 = SE3_CornerRadius"
equation "d722 = SE3_OverallWidth / 2 - SE3_CornerRadius"
equation "d723 = SE3_OverallHeight / 2 - SE3_CornerRadius"
equation "d724 = SE3_ProductThickness - SE3_RearGlassThickness - SE3_FrontGlassThickness"
equation "d726 = SE3_ProductThickness - SE3_FrontGlassThickness"
equation "d728 = SE3_OverallWidth - 2 * SE3_CornerRadius"
equation "d729 = SE3_OverallHeight - 2 * SE3_CornerRadius"
equation "d730 = SE3_CornerRadius"
equation "d731 = SE3_OverallWidth / 2 - SE3_CornerRadius"
equation "d732 = SE3_OverallHeight / 2 - SE3_CornerRadius"
equation "d733 = SE3_FrontGlassThickness"
equation "d735 = SE3_ProductThickness"
equation "d737 = SE3_ActiveWidth - 2 * 0.80 mm"
equation "d738 = SE3_ActiveHeight - 2 * 0.80 mm"
equation "d740 = SE3_ActiveWidth / 2 - 0.80 mm"
equation "d741 = ( SE3_OverallHeight / 2 - SE3_ActiveTopOffset - SE3_ActiveHeight / 2 ) + SE3_ActiveHeight / 2 - 0.80 mm"
equation "d742 = SE3_DetailOverlay"
equation "d744 = SE3_OverallHeight / 2 - SE3_HomeBottomOffset"
equation "d745 = SE3_HomeDiameter"
equation "d746 = SE3_DetailOverlay"
equation "d748 = SE3_OverallWidth / 2 - SE3_FrontCameraXFromLeft"
equation "d749 = SE3_OverallHeight / 2 - SE3_FrontCameraTopOffset"
equation "d750 = SE3_FrontCameraDiameter"
equation "d751 = SE3_DetailOverlay"
equation "d753 = SE3_OverallWidth / 2 - SE3_ProximityXFromLeft"
equation "d754 = SE3_OverallHeight / 2 - SE3_ProximityTopOffset"
equation "d755 = SE3_ProximityDiameter"
equation "d756 = SE3_DetailOverlay"
equation "d758 = SE3_ALSXFromLeft - SE3_OverallWidth / 2"
equation "d759 = SE3_OverallHeight / 2 - SE3_ALSTopOffset"
equation "d760 = SE3_ALSDiameter"
equation "d761 = SE3_DetailOverlay"
equation "d763 = SE3_ReceiverWidth - SE3_ReceiverHeight"
equation "d764 = SE3_ReceiverHeight / 2"
equation "d765 = SE3_OverallHeight / 2 - SE3_ReceiverTopOffset"
equation "d766 = SE3_DetailOverlay"
equation "d768 = SE3_OverallWidth / 2 - SE3_RearCameraXFromLeft"
equation "d769 = SE3_OverallHeight / 2 - SE3_RearFeatureTopOffset"
equation "d770 = SE3_RearCameraDiameter"
equation "d771 = -( SE3_CameraBumpHeight )"
equation "d773 = SE3_OverallWidth / 2 - SE3_RearMicXFromLeft"
equation "d774 = SE3_OverallHeight / 2 - SE3_RearFeatureTopOffset"
equation "d775 = SE3_RearMicDiameter"
equation "d776 = -( SE3_DetailOverlay )"
equation "d778 = SE3_OverallWidth / 2 - SE3_RearFlashXFromLeft"
equation "d779 = SE3_OverallHeight / 2 - SE3_RearFeatureTopOffset"
equation "d780 = SE3_RearFlashDiameter"
equation "d781 = -( SE3_DetailOverlay )"
equation "d783 = -SE3_OverallWidth / 2"
equation "d785 = SE3_OverallWidth / 2"
equation "d787 = SE3_RingLength - SE3_ButtonFaceWidth"
equation "d788 = SE3_ButtonFaceWidth / 2"
equation "d789 = SE3_ProductThickness / 2"
equation "d790 = SE3_OverallHeight / 2 - SE3_RingTopOffset - SE3_RingLength / 2"
equation "d791 = -( SE3_RingProjection )"
equation "d793 = SE3_ButtonLength - SE3_ButtonFaceWidth"
equation "d794 = SE3_ButtonFaceWidth / 2"
equation "d795 = SE3_ProductThickness / 2"
equation "d796 = SE3_OverallHeight / 2 - SE3_VolumePlusCenterFromTop"
equation "d797 = -( SE3_ButtonProjection )"
equation "d799 = SE3_ButtonLength - SE3_ButtonFaceWidth"
equation "d800 = SE3_ButtonFaceWidth / 2"
equation "d801 = SE3_ProductThickness / 2"
equation "d802 = SE3_OverallHeight / 2 - SE3_VolumeMinusCenterFromTop"
equation "d803 = -( SE3_ButtonProjection )"
equation "d805 = SE3_ButtonLength - SE3_ButtonFaceWidth"
equation "d806 = SE3_ButtonFaceWidth / 2"
equation "d807 = SE3_ProductThickness / 2"
equation "d808 = SE3_OverallHeight / 2 - SE3_SideButtonCenterFromTop"
equation "d809 = SE3_ButtonProjection"
equation "d811 = SE3_SIMTrayLength - SE3_SIMTrayWidth"
equation "d812 = SE3_SIMTrayWidth / 2"
equation "d813 = SE3_ProductThickness / 2"
equation "d814 = SE3_OverallHeight / 2 - SE3_SIMTrayTopOffset - SE3_SIMTrayLength / 2"
equation "d815 = -( 0.05 mm )"
equation "d817 = -SE3_OverallHeight / 2"
equation "d819 = SE3_LightningWidth - SE3_LightningHeight"
equation "d820 = SE3_LightningHeight / 2"
equation "d821 = SE3_ProductThickness / 2"
equation "d822 = SE3_OverallWidth / 2 - ( SE3_BottomHoleFirstFromLeft + 0 * SE3_BottomHolePitch )"
equation "d823 = SE3_ProductThickness / 2"
equation "d824 = SE3_BottomHoleDiameter"
equation "d825 = SE3_OverallWidth / 2 - ( SE3_BottomHoleFirstFromLeft + 1 * SE3_BottomHolePitch )"
equation "d826 = SE3_ProductThickness / 2"
equation "d827 = SE3_BottomHoleDiameter"
equation "d828 = SE3_OverallWidth / 2 - ( SE3_BottomHoleFirstFromLeft + 2 * SE3_BottomHolePitch )"
equation "d829 = SE3_ProductThickness / 2"
equation "d830 = SE3_BottomHoleDiameter"
equation "d831 = SE3_OverallWidth / 2 - ( SE3_BottomHoleFirstFromLeft + 3 * SE3_BottomHolePitch )"
equation "d832 = SE3_ProductThickness / 2"
equation "d833 = SE3_BottomHoleDiameter"
equation "d834 = SE3_OverallWidth / 2 - ( SE3_BottomHoleFirstFromLeft + 4 * SE3_BottomHolePitch )"
equation "d835 = SE3_ProductThickness / 2"
equation "d836 = SE3_BottomHoleDiameter"
equation "d837 = SE3_OverallWidth / 2 - ( SE3_BottomHoleFirstFromLeft + 5 * SE3_BottomHolePitch )"
equation "d838 = SE3_ProductThickness / 2"
equation "d839 = SE3_BottomHoleDiameter"
equation "d840 = ( SE3_BottomRightFirstFromLeft + 0 * SE3_BottomHolePitch ) - SE3_OverallWidth / 2"
equation "d841 = SE3_ProductThickness / 2"
equation "d842 = SE3_BottomHoleDiameter"
equation "d843 = ( SE3_BottomRightFirstFromLeft + 1 * SE3_BottomHolePitch ) - SE3_OverallWidth / 2"
equation "d844 = SE3_ProductThickness / 2"
equation "d845 = SE3_BottomHoleDiameter"
equation "d846 = ( SE3_BottomRightFirstFromLeft + 2 * SE3_BottomHolePitch ) - SE3_OverallWidth / 2"
equation "d847 = SE3_ProductThickness / 2"
equation "d848 = SE3_BottomHoleDiameter"
equation "d849 = ( SE3_BottomRightFirstFromLeft + 3 * SE3_BottomHolePitch ) - SE3_OverallWidth / 2"
equation "d850 = SE3_ProductThickness / 2"
equation "d851 = SE3_BottomHoleDiameter"
equation "d852 = ( SE3_BottomRightFirstFromLeft + 4 * SE3_BottomHolePitch ) - SE3_OverallWidth / 2"
equation "d853 = SE3_ProductThickness / 2"
equation "d854 = SE3_BottomHoleDiameter"
equation "d855 = ( SE3_BottomRightFirstFromLeft + 5 * SE3_BottomHolePitch ) - SE3_OverallWidth / 2"
equation "d856 = SE3_ProductThickness / 2"
equation "d857 = SE3_BottomHoleDiameter"
equation "d858 = SE3_OverallWidth / 2 - SE3_LeftScrewFromLeft"
equation "d859 = SE3_ProductThickness / 2"
equation "d860 = SE3_ScrewDiameter"
equation "d861 = SE3_RightScrewFromLeft - SE3_OverallWidth / 2"
equation "d862 = SE3_ProductThickness / 2"
equation "d863 = SE3_ScrewDiameter"
equation "d866 = SE3_ProductThickness / 2"
equation "d868 = SE3_OverallWidth - 2 * SE3_CornerRadius"
equation "d869 = SE3_OverallHeight - 2 * SE3_CornerRadius"
equation "d870 = SE3_CornerRadius"
equation "d871 = SE3_OverallWidth / 2 - SE3_CornerRadius"
equation "d872 = SE3_OverallHeight / 2 - SE3_CornerRadius"
